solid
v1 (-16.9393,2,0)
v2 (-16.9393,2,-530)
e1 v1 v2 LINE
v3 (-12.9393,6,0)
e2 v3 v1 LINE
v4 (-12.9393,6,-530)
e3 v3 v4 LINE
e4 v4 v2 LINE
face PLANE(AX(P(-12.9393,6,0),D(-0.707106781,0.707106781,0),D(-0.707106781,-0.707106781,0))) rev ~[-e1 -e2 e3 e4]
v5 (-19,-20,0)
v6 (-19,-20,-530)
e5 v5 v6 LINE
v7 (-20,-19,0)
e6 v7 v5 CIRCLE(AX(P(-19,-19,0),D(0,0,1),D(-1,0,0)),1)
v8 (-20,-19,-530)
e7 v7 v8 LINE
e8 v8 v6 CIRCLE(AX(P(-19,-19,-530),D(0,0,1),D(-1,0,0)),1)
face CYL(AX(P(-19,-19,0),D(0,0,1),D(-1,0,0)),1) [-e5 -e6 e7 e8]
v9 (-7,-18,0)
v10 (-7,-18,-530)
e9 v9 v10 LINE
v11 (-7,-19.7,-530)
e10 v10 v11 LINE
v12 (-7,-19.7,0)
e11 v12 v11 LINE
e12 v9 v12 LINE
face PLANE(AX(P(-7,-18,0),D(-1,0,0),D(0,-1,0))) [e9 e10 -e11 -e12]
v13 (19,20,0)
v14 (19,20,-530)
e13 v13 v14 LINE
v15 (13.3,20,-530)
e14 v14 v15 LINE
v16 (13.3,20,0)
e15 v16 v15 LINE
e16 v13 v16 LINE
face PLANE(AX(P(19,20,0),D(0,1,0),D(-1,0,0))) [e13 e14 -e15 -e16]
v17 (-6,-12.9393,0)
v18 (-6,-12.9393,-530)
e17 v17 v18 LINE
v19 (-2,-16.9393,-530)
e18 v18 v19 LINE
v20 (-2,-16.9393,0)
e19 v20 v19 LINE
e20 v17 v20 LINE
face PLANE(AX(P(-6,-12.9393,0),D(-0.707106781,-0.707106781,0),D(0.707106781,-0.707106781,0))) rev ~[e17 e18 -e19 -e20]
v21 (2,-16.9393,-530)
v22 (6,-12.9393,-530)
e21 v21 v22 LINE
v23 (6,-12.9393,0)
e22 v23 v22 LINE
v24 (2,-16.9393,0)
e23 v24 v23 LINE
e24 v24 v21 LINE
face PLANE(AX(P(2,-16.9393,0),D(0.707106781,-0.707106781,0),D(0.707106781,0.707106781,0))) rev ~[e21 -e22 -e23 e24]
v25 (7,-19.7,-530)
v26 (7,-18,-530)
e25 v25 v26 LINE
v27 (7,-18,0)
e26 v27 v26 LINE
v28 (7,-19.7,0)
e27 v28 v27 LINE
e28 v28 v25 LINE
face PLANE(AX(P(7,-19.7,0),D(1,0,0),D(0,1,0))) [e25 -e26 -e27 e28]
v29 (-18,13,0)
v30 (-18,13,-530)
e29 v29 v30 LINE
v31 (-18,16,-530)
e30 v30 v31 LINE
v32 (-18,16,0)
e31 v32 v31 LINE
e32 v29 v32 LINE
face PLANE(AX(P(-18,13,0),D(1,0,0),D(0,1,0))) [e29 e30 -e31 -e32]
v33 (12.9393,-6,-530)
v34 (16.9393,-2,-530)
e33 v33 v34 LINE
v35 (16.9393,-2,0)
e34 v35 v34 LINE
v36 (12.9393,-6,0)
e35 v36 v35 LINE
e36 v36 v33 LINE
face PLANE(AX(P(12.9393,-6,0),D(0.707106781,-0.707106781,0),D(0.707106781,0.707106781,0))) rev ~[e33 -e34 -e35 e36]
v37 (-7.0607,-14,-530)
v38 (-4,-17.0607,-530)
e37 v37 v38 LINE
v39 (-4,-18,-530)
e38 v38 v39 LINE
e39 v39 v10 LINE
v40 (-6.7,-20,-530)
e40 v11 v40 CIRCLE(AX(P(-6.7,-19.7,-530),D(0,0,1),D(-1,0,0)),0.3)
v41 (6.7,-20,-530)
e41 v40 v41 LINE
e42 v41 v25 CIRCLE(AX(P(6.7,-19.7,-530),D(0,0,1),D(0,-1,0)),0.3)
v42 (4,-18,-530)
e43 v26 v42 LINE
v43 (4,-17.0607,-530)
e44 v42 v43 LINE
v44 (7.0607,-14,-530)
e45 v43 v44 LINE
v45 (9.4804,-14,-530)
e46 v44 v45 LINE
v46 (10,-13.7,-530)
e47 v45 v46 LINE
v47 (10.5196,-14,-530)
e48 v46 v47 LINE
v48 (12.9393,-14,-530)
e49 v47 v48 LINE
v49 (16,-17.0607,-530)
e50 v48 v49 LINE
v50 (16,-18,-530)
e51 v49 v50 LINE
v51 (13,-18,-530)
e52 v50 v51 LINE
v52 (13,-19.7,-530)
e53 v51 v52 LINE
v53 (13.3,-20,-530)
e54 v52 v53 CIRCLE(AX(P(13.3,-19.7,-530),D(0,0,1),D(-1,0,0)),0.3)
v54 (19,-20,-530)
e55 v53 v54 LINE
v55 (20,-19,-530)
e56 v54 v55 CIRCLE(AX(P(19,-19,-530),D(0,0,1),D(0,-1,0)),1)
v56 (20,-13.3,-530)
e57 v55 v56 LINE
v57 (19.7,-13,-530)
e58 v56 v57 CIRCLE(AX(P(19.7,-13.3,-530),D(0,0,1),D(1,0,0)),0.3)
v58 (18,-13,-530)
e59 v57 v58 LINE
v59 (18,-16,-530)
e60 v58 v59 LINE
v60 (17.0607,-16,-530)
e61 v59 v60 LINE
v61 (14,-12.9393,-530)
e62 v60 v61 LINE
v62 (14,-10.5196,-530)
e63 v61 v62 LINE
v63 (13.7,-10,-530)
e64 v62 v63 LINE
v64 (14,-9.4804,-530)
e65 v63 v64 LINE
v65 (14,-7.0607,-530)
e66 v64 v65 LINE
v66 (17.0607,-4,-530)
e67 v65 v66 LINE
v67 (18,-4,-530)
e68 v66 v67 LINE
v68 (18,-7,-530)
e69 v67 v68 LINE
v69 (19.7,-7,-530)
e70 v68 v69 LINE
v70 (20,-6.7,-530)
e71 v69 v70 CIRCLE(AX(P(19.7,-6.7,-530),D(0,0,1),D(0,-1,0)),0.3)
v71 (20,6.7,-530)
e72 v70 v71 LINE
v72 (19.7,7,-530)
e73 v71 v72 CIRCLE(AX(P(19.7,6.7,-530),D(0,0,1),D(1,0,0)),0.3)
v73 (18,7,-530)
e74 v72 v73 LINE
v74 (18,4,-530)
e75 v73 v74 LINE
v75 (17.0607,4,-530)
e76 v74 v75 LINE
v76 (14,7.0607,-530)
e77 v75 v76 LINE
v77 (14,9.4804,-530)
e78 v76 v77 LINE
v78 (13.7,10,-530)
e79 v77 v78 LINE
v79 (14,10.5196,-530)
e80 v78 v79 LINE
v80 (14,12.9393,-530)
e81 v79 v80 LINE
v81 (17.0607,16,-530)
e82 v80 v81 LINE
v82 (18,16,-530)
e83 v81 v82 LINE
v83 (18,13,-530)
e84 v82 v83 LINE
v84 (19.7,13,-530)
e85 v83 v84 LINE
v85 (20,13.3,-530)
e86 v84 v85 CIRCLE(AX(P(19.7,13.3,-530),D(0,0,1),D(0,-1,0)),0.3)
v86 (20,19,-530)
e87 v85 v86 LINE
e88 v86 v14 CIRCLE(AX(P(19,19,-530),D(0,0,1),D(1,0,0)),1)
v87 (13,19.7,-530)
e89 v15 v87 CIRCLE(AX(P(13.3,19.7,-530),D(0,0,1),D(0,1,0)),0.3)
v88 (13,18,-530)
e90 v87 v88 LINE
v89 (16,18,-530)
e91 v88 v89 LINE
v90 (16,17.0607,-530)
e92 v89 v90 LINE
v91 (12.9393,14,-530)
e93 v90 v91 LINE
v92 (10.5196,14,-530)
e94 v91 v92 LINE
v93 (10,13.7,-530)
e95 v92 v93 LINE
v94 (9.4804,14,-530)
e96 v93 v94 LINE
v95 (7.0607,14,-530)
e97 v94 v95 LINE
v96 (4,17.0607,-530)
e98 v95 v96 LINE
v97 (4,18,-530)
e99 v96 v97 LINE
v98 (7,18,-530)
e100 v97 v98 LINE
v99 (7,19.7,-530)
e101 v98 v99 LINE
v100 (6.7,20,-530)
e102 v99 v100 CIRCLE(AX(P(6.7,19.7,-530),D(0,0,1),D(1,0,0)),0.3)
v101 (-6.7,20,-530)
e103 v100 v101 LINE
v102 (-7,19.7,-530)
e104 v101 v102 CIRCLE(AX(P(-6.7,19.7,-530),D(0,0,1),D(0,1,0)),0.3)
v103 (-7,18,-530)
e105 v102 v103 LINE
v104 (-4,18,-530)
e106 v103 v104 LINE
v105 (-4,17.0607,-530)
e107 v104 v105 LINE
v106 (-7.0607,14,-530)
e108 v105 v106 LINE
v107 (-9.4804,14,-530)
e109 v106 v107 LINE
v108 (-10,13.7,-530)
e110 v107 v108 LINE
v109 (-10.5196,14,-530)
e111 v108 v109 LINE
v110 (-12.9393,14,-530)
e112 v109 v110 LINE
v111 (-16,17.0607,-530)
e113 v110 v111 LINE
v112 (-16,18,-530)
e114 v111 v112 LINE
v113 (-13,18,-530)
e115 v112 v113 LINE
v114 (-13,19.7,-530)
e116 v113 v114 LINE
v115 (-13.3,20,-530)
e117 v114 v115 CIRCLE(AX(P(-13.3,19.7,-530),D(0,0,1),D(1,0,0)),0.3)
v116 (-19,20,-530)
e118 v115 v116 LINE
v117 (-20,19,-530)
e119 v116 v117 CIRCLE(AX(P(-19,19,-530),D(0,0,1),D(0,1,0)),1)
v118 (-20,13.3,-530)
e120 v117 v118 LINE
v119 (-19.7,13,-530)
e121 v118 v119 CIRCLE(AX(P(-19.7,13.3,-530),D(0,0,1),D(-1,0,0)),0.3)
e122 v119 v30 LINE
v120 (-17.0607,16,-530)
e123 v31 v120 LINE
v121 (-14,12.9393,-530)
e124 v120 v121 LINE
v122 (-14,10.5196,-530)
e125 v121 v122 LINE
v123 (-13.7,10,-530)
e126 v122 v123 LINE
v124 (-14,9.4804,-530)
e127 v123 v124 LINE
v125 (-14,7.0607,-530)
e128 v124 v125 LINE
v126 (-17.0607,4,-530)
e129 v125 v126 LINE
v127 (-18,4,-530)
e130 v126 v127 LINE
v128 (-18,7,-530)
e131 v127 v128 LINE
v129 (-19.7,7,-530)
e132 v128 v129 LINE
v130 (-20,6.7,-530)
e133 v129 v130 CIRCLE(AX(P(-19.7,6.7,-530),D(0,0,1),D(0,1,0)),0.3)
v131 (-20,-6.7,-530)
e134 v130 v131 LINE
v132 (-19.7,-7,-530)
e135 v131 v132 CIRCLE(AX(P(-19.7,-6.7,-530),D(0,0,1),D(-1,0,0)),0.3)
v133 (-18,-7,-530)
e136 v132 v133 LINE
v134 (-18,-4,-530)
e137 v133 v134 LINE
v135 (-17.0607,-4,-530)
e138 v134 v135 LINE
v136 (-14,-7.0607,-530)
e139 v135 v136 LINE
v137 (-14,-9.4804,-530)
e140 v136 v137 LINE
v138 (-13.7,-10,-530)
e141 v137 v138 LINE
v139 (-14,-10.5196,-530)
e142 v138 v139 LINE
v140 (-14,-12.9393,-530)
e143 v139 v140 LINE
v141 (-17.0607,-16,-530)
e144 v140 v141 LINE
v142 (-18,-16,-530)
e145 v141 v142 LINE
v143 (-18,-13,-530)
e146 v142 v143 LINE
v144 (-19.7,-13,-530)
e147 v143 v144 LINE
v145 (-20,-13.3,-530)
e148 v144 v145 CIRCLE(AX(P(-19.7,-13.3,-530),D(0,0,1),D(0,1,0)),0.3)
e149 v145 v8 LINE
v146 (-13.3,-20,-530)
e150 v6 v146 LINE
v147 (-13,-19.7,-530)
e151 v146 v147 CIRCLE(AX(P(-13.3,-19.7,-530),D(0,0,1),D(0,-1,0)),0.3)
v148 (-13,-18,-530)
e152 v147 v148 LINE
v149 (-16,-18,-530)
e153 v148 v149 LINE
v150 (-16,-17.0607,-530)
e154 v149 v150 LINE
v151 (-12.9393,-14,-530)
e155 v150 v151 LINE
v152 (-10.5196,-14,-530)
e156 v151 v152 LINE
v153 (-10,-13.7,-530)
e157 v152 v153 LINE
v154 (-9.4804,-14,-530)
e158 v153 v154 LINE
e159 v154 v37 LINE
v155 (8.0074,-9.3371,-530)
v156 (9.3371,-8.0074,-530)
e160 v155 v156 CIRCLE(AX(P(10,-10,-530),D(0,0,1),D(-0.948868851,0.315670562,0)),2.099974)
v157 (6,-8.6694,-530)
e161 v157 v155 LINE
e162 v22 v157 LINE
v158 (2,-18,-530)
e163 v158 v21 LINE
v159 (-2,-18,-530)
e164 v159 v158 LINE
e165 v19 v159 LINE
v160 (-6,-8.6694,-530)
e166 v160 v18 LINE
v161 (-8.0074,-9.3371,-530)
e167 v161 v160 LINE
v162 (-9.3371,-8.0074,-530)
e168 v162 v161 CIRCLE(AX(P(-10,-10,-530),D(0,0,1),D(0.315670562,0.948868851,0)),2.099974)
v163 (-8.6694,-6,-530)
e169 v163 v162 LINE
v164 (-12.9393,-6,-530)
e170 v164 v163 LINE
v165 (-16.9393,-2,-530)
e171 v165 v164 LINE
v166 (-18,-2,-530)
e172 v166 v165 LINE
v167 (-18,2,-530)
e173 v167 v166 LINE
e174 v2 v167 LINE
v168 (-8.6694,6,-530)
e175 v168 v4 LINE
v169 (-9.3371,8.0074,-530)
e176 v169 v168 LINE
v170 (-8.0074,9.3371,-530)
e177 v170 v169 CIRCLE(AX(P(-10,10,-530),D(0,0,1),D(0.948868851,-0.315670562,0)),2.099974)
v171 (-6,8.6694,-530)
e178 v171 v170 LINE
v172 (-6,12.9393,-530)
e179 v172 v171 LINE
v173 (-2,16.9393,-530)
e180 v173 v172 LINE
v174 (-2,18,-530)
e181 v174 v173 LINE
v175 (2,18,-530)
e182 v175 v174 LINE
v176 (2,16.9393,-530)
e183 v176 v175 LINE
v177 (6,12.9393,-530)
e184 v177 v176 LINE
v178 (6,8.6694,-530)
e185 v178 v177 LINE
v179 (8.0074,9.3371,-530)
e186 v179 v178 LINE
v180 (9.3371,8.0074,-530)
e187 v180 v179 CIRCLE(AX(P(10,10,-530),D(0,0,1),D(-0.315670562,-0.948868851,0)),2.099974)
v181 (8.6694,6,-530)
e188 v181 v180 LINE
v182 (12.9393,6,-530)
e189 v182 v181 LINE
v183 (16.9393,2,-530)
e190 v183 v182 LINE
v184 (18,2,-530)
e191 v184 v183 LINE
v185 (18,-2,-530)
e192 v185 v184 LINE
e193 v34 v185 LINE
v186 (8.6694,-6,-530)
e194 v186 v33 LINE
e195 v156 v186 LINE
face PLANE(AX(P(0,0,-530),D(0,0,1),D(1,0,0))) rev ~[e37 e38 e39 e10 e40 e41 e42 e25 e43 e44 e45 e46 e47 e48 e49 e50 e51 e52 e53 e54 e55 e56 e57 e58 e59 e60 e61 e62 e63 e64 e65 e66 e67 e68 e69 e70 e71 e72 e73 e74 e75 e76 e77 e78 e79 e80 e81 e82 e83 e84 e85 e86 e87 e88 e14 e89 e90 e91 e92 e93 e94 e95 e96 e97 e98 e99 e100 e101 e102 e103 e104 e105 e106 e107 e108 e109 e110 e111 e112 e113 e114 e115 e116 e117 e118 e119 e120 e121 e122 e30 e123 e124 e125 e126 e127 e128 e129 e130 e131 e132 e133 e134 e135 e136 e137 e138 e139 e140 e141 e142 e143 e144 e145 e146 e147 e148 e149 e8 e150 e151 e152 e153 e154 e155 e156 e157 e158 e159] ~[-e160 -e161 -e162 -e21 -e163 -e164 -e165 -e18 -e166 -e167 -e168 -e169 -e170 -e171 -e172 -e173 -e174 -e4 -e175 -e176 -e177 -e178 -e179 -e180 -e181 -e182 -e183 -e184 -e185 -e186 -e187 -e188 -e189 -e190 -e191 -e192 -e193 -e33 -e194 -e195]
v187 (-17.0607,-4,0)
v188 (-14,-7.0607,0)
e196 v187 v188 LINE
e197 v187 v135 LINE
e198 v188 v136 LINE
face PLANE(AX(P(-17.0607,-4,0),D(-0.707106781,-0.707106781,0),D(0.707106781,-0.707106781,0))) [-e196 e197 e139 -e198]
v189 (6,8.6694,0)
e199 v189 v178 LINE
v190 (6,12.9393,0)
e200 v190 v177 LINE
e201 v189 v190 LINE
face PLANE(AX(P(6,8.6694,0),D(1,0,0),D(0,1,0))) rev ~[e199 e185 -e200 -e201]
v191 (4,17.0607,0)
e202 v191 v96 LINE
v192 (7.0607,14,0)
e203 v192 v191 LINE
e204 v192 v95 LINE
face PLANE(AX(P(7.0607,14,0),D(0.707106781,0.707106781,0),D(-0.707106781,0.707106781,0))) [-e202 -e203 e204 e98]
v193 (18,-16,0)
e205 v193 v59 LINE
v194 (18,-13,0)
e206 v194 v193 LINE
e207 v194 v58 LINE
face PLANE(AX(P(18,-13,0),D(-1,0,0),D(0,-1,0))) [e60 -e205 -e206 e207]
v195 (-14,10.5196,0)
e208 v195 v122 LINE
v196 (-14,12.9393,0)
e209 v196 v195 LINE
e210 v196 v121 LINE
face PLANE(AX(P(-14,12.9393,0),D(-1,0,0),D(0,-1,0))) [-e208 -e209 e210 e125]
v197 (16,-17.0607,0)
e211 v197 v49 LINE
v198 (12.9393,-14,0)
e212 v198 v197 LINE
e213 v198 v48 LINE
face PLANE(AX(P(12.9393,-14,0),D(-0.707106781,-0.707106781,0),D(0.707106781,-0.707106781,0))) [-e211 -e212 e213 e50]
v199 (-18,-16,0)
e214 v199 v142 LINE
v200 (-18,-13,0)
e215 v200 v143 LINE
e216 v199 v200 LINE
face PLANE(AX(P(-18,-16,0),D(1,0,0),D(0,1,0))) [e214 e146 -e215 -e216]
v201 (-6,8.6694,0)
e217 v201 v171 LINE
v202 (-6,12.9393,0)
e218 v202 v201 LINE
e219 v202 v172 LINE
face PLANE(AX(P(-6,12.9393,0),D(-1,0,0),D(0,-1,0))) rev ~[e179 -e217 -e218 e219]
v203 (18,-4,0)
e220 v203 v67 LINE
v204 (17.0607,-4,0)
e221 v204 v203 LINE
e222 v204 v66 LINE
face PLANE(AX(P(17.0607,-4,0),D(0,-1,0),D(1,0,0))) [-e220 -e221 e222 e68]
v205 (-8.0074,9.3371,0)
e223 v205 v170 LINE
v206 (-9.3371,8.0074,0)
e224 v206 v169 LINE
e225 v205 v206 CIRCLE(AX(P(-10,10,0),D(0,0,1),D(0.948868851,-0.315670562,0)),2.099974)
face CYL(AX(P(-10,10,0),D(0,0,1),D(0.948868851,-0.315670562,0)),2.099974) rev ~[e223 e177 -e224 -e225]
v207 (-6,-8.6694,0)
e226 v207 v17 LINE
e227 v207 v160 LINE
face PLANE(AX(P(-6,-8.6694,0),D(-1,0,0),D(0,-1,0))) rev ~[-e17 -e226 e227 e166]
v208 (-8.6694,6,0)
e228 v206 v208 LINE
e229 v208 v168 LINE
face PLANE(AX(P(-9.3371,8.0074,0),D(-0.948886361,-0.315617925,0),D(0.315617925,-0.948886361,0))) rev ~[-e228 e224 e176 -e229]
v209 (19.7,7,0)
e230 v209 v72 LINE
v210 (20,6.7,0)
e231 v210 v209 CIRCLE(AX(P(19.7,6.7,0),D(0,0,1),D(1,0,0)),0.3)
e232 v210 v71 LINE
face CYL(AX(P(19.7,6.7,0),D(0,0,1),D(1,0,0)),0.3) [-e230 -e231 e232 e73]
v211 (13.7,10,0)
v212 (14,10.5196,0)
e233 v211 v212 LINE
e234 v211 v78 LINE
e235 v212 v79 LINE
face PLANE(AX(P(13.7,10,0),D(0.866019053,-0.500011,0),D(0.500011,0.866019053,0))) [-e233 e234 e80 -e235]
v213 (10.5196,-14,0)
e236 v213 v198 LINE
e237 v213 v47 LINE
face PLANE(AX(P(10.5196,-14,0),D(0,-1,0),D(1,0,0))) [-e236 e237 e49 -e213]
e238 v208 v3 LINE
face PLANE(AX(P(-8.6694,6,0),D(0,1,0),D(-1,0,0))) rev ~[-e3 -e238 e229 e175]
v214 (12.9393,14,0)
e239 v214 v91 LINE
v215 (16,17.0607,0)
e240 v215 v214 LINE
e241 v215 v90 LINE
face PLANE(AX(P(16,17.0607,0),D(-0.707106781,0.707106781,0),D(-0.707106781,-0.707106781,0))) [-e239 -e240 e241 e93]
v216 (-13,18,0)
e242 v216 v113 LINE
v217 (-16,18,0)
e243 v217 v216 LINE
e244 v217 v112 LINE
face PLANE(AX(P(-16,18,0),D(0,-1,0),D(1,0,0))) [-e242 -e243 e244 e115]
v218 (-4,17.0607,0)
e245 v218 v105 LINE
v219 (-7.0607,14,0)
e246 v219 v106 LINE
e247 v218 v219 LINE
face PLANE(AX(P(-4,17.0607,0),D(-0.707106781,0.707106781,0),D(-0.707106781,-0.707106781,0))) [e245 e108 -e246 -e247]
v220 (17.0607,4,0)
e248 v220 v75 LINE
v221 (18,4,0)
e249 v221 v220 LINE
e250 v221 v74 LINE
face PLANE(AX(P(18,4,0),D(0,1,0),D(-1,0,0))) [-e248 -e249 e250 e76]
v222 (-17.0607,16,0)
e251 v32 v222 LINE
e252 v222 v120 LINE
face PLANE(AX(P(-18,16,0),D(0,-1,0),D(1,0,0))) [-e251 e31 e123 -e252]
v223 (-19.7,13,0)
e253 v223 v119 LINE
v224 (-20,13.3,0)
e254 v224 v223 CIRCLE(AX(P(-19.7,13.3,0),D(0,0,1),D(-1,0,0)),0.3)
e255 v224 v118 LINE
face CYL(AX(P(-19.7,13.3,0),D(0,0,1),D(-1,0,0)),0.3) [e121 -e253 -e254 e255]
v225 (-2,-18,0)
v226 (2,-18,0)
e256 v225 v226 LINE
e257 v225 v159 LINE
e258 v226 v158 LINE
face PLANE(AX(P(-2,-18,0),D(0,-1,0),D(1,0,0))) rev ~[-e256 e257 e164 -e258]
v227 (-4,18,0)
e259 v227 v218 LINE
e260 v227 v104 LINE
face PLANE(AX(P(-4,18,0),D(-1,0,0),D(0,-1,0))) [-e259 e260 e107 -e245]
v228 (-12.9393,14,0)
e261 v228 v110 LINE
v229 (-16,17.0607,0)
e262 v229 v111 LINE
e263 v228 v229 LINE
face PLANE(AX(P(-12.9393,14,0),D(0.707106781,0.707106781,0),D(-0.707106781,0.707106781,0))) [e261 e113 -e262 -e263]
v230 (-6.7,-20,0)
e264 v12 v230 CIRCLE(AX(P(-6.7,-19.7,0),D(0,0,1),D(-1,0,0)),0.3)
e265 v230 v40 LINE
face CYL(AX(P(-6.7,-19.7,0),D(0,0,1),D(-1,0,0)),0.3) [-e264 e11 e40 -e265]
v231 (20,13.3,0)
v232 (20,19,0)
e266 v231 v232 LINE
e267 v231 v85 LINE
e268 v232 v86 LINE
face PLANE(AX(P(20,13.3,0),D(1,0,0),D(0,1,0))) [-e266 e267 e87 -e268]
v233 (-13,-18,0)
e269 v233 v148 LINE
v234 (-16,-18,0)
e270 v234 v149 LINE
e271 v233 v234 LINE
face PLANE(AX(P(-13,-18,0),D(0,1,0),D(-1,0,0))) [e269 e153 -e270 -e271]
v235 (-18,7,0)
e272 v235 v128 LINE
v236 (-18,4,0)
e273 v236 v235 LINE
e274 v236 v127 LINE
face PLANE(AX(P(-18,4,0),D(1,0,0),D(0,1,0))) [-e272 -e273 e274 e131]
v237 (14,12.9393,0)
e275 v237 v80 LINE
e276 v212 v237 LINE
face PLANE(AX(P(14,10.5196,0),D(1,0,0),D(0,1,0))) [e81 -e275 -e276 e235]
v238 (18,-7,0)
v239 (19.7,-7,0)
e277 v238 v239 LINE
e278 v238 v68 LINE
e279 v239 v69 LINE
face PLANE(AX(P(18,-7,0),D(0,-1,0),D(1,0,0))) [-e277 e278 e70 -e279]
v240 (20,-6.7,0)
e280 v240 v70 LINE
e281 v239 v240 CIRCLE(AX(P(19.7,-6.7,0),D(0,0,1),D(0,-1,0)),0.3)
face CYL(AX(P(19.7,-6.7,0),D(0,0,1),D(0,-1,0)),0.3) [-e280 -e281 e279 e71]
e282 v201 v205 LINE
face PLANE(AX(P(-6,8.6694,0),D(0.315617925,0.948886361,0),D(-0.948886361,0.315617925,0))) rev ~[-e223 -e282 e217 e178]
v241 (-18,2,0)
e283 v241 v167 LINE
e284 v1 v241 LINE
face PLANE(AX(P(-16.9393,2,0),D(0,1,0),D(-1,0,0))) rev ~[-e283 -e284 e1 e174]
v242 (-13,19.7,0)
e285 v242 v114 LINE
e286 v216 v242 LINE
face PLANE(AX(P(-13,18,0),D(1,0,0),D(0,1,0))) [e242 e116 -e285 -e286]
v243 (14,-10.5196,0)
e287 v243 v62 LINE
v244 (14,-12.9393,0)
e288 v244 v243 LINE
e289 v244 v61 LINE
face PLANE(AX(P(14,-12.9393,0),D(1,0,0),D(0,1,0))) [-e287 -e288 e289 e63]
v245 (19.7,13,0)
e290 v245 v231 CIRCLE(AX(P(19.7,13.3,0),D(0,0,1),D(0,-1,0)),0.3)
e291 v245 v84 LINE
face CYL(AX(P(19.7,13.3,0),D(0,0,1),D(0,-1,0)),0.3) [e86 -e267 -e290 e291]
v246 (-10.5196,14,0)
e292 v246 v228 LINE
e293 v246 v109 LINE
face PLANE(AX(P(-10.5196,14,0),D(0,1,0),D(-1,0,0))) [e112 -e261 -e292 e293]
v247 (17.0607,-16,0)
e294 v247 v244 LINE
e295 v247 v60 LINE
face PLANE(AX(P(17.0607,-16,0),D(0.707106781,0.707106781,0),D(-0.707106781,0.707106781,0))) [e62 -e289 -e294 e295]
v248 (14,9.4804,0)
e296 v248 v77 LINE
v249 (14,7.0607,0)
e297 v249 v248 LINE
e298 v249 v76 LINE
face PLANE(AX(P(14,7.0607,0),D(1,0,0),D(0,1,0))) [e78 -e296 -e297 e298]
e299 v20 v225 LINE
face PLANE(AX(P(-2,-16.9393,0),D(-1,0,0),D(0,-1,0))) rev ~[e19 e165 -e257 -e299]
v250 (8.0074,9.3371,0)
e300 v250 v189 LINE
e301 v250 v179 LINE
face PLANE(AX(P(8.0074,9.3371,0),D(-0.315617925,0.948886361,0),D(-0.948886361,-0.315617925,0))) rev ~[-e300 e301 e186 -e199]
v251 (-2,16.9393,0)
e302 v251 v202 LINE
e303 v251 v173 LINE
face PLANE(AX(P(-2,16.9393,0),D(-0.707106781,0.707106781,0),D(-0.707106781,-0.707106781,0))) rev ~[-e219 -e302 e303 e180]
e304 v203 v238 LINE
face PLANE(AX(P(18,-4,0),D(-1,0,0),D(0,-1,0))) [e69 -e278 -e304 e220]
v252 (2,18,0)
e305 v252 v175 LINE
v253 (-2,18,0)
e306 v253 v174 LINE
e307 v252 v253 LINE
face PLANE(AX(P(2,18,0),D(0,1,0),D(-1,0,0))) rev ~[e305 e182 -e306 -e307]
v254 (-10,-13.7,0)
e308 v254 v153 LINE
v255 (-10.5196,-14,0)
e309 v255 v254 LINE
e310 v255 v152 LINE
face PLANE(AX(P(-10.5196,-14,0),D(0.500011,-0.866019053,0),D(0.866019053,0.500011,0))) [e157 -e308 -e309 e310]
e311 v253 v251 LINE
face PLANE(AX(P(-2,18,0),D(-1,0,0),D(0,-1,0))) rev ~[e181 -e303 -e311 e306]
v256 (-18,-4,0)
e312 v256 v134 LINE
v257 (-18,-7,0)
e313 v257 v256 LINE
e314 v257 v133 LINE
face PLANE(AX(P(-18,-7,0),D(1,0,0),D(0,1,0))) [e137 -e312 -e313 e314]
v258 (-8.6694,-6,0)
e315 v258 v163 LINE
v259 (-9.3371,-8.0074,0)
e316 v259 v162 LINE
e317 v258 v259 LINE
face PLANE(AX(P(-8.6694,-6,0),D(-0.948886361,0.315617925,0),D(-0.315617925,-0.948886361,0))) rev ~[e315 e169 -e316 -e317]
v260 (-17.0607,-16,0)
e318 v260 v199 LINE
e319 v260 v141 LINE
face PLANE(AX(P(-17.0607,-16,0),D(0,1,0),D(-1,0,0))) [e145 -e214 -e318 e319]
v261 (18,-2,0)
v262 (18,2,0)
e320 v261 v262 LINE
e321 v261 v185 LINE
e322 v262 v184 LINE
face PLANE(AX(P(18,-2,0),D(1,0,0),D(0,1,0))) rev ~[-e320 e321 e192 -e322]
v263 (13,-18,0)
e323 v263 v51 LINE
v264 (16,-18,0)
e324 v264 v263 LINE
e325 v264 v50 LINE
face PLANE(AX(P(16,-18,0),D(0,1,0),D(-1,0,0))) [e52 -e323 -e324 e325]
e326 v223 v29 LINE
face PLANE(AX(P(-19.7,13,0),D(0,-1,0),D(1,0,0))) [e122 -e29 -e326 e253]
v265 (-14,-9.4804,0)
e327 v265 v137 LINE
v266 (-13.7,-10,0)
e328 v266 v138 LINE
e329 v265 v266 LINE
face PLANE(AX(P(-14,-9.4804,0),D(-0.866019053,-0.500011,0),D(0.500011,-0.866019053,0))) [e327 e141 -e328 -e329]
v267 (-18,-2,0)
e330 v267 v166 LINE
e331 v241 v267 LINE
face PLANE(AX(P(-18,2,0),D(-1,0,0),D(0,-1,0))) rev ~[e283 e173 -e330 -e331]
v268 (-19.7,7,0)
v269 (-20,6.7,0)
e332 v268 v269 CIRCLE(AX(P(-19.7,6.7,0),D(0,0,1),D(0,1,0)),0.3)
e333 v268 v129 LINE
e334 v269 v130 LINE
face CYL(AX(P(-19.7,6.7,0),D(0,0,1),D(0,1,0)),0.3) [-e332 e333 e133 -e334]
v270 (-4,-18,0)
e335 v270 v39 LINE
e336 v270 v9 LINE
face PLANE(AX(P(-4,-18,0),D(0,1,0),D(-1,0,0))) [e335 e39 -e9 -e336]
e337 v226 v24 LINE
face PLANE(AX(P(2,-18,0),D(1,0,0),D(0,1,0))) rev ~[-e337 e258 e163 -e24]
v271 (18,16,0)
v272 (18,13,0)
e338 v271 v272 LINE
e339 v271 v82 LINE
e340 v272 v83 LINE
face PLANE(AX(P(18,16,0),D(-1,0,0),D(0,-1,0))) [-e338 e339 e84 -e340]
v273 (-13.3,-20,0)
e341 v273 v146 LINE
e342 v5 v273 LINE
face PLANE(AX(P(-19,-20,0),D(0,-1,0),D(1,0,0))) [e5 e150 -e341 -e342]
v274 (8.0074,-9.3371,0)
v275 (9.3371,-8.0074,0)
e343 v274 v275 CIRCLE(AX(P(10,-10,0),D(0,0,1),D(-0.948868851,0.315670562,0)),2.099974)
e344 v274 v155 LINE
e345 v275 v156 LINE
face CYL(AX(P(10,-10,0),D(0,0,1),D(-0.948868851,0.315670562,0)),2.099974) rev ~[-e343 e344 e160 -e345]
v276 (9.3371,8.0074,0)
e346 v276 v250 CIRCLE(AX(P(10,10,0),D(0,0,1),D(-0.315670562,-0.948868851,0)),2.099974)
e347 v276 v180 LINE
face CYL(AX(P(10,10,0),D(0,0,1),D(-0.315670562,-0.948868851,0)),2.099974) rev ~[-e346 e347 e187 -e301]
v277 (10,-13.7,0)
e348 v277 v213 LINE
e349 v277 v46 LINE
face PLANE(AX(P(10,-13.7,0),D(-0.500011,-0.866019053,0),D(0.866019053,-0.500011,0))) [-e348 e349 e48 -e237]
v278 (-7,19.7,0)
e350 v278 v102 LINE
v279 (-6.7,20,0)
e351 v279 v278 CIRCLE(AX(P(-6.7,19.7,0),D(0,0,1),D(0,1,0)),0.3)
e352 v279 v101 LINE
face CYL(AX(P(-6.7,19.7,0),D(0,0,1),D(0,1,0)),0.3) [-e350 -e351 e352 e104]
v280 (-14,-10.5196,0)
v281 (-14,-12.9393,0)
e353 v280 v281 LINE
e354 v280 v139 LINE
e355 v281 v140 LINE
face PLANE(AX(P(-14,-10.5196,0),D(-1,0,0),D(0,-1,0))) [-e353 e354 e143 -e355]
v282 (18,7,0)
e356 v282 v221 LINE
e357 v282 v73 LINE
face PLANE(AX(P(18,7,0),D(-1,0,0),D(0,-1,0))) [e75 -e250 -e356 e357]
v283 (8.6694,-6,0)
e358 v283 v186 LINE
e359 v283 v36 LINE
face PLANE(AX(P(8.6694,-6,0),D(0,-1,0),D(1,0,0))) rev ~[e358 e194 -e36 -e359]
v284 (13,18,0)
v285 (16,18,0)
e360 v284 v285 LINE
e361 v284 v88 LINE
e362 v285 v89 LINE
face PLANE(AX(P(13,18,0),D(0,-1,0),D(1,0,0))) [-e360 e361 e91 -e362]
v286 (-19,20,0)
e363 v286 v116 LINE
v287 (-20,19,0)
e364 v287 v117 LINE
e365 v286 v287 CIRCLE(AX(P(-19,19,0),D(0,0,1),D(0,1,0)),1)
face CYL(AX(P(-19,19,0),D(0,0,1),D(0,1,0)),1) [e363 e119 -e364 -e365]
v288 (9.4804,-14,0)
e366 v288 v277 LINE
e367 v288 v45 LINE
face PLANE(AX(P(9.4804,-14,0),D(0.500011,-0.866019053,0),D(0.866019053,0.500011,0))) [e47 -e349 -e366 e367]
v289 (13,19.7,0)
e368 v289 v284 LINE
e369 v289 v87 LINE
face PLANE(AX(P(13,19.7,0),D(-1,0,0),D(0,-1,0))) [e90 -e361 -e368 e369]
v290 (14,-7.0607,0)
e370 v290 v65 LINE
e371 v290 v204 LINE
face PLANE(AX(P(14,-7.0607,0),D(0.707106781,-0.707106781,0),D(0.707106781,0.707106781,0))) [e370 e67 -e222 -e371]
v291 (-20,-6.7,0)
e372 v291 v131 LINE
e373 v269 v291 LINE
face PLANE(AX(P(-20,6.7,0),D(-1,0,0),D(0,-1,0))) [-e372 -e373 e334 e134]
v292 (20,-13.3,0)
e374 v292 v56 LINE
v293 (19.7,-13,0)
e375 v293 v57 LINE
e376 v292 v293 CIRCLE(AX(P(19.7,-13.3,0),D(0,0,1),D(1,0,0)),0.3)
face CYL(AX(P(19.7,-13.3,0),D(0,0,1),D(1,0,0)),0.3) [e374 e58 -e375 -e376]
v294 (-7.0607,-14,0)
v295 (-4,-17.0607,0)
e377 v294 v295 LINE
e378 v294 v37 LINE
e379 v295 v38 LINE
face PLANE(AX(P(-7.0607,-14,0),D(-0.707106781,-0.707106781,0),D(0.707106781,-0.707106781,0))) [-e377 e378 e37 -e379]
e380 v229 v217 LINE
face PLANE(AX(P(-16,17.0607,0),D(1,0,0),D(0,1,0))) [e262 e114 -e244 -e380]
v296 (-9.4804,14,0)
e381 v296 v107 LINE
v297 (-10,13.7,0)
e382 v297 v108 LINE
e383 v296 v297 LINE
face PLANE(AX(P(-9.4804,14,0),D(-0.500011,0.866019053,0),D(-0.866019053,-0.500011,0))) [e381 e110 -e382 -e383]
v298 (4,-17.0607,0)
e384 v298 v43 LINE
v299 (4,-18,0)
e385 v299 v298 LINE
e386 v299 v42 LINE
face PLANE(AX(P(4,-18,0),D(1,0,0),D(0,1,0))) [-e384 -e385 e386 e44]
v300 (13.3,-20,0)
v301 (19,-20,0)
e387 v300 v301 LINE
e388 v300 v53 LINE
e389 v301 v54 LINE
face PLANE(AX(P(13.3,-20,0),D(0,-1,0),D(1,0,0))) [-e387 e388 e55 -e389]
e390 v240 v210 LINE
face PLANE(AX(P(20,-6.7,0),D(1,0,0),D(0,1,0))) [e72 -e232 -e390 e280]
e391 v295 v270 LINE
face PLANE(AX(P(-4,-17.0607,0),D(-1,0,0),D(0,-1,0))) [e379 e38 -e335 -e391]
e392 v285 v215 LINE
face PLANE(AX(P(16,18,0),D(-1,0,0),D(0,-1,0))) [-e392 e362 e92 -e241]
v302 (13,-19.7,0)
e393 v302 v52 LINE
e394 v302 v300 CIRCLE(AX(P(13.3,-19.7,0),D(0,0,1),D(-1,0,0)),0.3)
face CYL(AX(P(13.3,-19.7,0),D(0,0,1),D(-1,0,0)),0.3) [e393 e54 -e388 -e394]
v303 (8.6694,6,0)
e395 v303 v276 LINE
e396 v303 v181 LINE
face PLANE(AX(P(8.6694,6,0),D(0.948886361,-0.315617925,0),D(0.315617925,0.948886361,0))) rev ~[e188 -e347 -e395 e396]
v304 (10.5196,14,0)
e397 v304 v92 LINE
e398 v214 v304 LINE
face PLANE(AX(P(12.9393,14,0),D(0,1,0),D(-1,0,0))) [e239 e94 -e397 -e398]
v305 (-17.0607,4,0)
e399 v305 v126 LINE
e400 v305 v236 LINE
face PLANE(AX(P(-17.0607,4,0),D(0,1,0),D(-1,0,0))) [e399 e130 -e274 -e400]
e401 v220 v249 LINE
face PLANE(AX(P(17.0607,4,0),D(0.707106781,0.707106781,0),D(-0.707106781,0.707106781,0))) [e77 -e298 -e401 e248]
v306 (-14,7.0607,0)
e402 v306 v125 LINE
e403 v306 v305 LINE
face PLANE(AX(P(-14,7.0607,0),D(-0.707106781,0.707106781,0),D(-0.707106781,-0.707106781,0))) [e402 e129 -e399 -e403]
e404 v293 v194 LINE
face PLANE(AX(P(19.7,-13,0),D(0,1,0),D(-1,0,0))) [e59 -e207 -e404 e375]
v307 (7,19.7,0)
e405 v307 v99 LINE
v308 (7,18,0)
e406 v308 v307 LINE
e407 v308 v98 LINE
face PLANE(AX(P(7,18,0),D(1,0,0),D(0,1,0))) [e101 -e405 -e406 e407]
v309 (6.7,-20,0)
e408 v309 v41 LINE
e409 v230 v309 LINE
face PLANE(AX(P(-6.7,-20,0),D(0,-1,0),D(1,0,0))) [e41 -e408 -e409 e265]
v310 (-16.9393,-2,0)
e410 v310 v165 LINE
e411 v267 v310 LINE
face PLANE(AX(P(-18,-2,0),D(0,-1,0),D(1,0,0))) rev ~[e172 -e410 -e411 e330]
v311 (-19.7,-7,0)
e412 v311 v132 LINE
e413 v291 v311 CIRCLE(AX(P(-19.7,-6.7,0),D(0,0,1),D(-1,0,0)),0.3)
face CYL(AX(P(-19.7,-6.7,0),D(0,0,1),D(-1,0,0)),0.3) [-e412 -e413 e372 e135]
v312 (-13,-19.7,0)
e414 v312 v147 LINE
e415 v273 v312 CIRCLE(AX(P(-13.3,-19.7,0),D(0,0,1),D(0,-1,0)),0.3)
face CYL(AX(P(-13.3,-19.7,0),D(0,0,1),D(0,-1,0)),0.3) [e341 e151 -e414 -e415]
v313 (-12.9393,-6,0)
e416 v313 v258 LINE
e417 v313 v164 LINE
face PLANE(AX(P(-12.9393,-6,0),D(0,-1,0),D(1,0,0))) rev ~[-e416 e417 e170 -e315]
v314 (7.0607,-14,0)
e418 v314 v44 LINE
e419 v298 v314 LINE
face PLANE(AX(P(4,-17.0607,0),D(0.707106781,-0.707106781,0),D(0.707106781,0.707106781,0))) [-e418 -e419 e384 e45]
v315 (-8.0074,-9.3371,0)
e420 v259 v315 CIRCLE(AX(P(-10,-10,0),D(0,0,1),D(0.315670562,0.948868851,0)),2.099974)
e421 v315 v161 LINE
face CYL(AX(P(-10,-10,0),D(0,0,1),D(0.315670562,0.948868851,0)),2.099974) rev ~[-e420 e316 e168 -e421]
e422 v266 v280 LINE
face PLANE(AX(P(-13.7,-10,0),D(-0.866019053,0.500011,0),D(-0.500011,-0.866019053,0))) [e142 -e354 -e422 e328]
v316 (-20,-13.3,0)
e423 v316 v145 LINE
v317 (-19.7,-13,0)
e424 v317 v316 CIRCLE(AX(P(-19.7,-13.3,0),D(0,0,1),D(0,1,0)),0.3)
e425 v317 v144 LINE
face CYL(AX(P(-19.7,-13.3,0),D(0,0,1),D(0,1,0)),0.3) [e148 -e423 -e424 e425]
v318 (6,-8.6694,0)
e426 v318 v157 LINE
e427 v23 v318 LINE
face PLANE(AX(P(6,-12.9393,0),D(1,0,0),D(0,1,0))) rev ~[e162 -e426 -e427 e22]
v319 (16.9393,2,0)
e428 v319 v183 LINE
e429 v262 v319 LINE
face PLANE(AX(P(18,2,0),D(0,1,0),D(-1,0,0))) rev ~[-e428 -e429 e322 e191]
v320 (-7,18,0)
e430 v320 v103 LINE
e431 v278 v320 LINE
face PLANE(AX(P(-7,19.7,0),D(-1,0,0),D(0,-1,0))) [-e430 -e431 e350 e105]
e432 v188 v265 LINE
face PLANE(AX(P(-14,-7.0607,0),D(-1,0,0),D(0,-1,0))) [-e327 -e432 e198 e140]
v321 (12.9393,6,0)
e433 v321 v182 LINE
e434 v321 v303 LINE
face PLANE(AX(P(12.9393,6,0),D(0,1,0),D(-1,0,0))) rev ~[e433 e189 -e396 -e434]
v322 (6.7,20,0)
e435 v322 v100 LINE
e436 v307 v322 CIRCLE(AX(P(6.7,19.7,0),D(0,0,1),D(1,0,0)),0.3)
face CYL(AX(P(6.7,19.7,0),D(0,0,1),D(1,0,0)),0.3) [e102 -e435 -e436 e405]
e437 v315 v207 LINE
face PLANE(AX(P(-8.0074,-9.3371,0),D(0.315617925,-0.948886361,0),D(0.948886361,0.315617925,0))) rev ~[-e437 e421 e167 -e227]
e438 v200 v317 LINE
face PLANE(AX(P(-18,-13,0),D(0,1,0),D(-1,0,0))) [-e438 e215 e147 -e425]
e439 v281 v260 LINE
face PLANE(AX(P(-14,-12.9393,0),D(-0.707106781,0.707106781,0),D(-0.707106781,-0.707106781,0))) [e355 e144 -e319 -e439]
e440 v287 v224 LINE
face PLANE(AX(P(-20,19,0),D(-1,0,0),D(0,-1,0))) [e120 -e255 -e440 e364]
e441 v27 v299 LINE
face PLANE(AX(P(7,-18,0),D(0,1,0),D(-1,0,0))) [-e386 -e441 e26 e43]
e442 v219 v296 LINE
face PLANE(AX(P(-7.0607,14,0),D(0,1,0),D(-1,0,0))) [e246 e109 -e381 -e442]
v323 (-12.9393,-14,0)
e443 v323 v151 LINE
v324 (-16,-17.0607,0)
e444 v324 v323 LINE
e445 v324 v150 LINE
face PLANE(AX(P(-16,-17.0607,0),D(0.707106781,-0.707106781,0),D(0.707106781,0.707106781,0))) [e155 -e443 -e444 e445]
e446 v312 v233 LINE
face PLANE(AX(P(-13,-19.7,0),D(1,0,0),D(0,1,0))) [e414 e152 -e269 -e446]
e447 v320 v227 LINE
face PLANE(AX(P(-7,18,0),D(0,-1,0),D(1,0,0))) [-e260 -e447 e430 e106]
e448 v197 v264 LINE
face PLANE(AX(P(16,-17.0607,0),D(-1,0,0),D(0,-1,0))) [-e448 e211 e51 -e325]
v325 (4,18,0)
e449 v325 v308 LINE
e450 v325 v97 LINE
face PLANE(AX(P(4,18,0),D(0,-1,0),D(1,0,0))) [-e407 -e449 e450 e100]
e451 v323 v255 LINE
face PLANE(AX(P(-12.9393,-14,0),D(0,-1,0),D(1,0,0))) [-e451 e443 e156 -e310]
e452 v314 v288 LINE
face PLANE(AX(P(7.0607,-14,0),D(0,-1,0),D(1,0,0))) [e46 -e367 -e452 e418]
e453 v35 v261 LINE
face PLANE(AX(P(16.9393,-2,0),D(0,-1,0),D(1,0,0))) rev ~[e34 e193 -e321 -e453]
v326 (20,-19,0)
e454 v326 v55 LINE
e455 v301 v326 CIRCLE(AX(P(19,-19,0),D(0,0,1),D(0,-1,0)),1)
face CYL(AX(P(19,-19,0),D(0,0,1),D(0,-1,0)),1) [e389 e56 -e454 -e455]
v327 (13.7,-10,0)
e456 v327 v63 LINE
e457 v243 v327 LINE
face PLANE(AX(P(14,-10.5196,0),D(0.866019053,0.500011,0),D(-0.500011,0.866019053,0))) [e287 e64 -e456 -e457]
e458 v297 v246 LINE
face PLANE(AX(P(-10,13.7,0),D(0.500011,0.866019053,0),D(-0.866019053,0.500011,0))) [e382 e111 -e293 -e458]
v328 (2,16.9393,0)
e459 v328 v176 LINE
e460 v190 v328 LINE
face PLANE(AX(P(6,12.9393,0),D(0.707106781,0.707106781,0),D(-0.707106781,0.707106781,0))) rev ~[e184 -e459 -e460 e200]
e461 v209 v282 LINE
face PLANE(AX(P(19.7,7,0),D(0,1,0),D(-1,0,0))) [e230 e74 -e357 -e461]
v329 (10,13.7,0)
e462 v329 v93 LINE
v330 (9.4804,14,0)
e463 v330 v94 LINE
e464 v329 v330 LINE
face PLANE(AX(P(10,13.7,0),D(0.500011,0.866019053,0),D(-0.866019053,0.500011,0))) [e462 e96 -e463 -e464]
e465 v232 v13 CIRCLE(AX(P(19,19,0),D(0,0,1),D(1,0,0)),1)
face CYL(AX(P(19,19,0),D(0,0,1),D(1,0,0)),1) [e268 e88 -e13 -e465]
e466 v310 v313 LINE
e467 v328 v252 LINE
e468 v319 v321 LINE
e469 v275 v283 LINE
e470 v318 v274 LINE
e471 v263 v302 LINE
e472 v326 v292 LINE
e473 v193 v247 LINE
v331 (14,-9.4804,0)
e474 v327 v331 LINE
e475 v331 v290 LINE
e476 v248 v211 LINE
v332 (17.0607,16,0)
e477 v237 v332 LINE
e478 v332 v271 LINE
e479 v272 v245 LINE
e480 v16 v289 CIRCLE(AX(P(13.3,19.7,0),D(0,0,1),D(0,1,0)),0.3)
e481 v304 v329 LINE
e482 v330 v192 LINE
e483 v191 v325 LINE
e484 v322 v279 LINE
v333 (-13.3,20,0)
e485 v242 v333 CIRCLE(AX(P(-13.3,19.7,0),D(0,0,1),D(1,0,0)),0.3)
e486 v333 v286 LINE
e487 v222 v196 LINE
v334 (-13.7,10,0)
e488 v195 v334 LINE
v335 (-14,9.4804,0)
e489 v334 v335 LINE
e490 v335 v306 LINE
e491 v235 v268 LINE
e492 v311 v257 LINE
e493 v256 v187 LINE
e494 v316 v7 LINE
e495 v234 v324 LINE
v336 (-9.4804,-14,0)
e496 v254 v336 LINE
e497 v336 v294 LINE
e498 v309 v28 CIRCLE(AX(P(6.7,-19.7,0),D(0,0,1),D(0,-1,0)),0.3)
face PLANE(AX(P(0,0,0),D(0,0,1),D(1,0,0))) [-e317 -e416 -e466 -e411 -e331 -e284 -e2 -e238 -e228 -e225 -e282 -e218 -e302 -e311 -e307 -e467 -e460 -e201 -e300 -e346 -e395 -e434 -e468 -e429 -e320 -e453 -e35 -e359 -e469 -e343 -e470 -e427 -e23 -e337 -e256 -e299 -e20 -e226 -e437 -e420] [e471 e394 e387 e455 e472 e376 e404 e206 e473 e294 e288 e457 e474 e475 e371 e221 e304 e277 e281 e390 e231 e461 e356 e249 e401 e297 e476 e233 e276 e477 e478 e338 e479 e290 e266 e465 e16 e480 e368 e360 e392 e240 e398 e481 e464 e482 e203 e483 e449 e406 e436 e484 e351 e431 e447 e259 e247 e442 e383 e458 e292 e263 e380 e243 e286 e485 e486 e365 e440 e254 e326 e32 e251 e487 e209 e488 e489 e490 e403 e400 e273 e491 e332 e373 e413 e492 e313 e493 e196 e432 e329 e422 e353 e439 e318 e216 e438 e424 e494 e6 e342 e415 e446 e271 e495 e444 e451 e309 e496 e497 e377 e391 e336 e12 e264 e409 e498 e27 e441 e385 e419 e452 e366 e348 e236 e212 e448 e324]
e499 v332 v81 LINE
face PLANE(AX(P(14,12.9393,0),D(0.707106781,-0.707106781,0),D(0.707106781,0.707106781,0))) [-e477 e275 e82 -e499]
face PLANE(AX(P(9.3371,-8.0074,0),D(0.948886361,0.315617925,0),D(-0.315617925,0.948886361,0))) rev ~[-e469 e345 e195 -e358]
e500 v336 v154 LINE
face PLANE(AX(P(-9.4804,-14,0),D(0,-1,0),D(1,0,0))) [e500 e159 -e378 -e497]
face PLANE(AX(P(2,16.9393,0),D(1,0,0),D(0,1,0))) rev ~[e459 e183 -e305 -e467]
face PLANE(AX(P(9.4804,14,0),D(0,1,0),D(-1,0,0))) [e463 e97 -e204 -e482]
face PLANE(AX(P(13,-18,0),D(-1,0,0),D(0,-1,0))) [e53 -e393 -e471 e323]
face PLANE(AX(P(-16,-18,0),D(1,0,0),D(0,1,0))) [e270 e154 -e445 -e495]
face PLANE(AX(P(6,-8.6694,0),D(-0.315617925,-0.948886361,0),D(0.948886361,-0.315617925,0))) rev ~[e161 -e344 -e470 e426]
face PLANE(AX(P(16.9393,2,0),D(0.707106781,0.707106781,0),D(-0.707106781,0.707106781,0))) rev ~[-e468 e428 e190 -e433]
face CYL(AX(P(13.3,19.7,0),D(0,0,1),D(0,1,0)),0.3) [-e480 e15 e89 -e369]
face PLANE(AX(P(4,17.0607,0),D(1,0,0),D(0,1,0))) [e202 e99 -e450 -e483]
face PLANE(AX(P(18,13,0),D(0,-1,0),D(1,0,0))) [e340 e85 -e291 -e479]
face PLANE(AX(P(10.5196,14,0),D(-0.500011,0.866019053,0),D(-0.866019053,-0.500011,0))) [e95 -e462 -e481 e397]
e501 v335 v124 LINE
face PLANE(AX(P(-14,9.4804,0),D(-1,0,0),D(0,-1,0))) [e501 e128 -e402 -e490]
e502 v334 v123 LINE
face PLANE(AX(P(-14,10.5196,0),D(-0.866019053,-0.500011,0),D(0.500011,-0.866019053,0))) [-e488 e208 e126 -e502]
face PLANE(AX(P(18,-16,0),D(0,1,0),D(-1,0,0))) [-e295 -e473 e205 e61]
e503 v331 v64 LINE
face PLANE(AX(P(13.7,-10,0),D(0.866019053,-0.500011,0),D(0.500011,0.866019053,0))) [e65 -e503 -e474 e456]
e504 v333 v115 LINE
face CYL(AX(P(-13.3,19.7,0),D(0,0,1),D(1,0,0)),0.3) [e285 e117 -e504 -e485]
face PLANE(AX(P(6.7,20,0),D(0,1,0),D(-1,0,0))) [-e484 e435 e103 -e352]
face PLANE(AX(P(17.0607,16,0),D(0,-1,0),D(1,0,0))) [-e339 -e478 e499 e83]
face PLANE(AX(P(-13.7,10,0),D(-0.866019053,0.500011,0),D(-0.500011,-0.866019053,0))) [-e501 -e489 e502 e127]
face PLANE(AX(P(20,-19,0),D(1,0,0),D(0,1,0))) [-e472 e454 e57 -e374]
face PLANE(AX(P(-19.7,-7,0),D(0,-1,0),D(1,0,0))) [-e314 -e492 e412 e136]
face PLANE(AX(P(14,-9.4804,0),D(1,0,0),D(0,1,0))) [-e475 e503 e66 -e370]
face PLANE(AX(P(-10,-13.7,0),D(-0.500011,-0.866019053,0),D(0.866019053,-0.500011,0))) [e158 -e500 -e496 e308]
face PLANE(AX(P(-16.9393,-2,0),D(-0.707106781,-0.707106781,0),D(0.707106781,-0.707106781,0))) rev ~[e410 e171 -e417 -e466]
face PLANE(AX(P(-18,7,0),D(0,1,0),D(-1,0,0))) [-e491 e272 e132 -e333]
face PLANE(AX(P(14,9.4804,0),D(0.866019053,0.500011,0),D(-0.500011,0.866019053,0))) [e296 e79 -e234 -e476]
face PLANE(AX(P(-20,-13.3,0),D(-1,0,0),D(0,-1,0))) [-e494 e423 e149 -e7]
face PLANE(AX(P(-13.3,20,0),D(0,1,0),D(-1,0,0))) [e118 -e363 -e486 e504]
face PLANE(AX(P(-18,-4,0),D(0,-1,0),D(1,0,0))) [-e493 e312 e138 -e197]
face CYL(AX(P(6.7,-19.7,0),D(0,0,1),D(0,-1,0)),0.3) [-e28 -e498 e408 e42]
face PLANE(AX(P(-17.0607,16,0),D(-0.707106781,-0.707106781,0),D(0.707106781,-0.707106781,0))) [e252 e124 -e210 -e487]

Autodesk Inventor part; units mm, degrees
sketch "Sketch_1" plane through (0, 0, 0) normal (0, 0, 1) x (1, 0, 0)
  arc A0 (-20, 13.3) -> (-19.7, 13) centre (-19.7, 13.3) ccw
  line L0 (-19.7, 13) -> (-18, 13)
  line L1 (-18, 13) -> (-18, 16)
  line L2 (-18, 16) -> (-17.0607, 16)
  line L3 (-17.0607, 16) -> (-14, 12.9393)
  line L4 (-14, 12.9393) -> (-14, 10.5196)
  line L5 (-14, 10.5196) -> (-13.7, 10)
  line L6 (-13.7, 10) -> (-14, 9.4804)
  line L7 (-14, 9.4804) -> (-14, 7.0607)
  line L8 (-14, 7.0607) -> (-17.0607, 4)
  line L9 (-17.0607, 4) -> (-18, 4)
  line L10 (-18, 4) -> (-18, 7)
  line L11 (-18, 7) -> (-19.7, 7)
  arc A1 (-19.7, 7) -> (-20, 6.7) centre (-19.7, 6.7) ccw
  line L12 (-20, 6.7) -> (-20, -6.7)
  arc A2 (-20, -6.7) -> (-19.7, -7) centre (-19.7, -6.7) ccw
  line L13 (-19.7, -7) -> (-18, -7)
  line L14 (-18, -7) -> (-18, -4)
  line L15 (-18, -4) -> (-17.0607, -4)
  line L16 (-17.0607, -4) -> (-14, -7.0607)
  line L17 (-14, -7.0607) -> (-14, -9.4804)
  line L18 (-14, -9.4804) -> (-13.7, -10)
  line L19 (-13.7, -10) -> (-14, -10.5196)
  line L20 (-14, -10.5196) -> (-14, -12.9393)
  line L21 (-14, -12.9393) -> (-17.0607, -16)
  line L22 (-17.0607, -16) -> (-18, -16)
  line L23 (-18, -16) -> (-18, -13)
  line L24 (-18, -13) -> (-19.7, -13)
  arc A3 (-19.7, -13) -> (-20, -13.3) centre (-19.7, -13.3) ccw
  line L25 (-20, -13.3) -> (-20, -19)
  arc A4 (-20, -19) -> (-19, -20) centre (-19, -19) ccw
  line L26 (-19, -20) -> (-13.3, -20)
  arc A5 (-13.3, -20) -> (-13, -19.7) centre (-13.3, -19.7) ccw
  line L27 (-13, -19.7) -> (-13, -18)
  line L28 (-13, -18) -> (-16, -18)
  line L29 (-16, -18) -> (-16, -17.0607)
  line L30 (-16, -17.0607) -> (-12.9393, -14)
  line L31 (-12.9393, -14) -> (-10.5196, -14)
  line L32 (-10.5196, -14) -> (-10, -13.7)
  line L33 (-10, -13.7) -> (-9.4804, -14)
  line L34 (-9.4804, -14) -> (-7.0607, -14)
  line L35 (-7.0607, -14) -> (-4, -17.0607)
  line L36 (-4, -17.0607) -> (-4, -18)
  line L37 (-4, -18) -> (-7, -18)
  line L38 (-7, -18) -> (-7, -19.7)
  arc A6 (-7, -19.7) -> (-6.7, -20) centre (-6.7, -19.7) ccw
  line L39 (-6.7, -20) -> (6.7, -20)
  arc A7 (6.7, -20) -> (7, -19.7) centre (6.7, -19.7) ccw
  line L40 (7, -19.7) -> (7, -18)
  line L41 (7, -18) -> (4, -18)
  line L42 (4, -18) -> (4, -17.0607)
  line L43 (4, -17.0607) -> (7.0607, -14)
  line L44 (7.0607, -14) -> (9.4804, -14)
  line L45 (9.4804, -14) -> (10, -13.7)
  line L46 (10, -13.7) -> (10.5196, -14)
  line L47 (10.5196, -14) -> (12.9393, -14)
  line L48 (12.9393, -14) -> (16, -17.0607)
  line L49 (16, -17.0607) -> (16, -18)
  line L50 (16, -18) -> (13, -18)
  line L51 (13, -18) -> (13, -19.7)
  arc A8 (13, -19.7) -> (13.3, -20) centre (13.3, -19.7) ccw
  line L52 (13.3, -20) -> (19, -20)
  arc A9 (19, -20) -> (20, -19) centre (19, -19) ccw
  line L53 (20, -19) -> (20, -13.3)
  arc A10 (20, -13.3) -> (19.7, -13) centre (19.7, -13.3) ccw
  line L54 (19.7, -13) -> (18, -13)
  line L55 (18, -13) -> (18, -16)
  line L56 (18, -16) -> (17.0607, -16)
  line L57 (17.0607, -16) -> (14, -12.9393)
  line L58 (14, -12.9393) -> (14, -10.5196)
  line L59 (14, -10.5196) -> (13.7, -10)
  line L60 (13.7, -10) -> (14, -9.4804)
  line L61 (14, -9.4804) -> (14, -7.0607)
  line L62 (14, -7.0607) -> (17.0607, -4)
  line L63 (17.0607, -4) -> (18, -4)
  line L64 (18, -4) -> (18, -7)
  line L65 (18, -7) -> (19.7, -7)
  arc A11 (19.7, -7) -> (20, -6.7) centre (19.7, -6.7) ccw
  line L66 (20, -6.7) -> (20, 6.7)
  arc A12 (20, 6.7) -> (19.7, 7) centre (19.7, 6.7) ccw
  line L67 (19.7, 7) -> (18, 7)
  line L68 (18, 7) -> (18, 4)
  line L69 (18, 4) -> (17.0607, 4)
  line L70 (17.0607, 4) -> (14, 7.0607)
  line L71 (14, 7.0607) -> (14, 9.4804)
  line L72 (14, 9.4804) -> (13.7, 10)
  line L73 (13.7, 10) -> (14, 10.5196)
  line L74 (14, 10.5196) -> (14, 12.9393)
  line L75 (14, 12.9393) -> (17.0607, 16)
  line L76 (17.0607, 16) -> (18, 16)
  line L77 (18, 16) -> (18, 13)
  line L78 (18, 13) -> (19.7, 13)
  arc A13 (19.7, 13) -> (20, 13.3) centre (19.7, 13.3) ccw
  line L79 (20, 13.3) -> (20, 19)
  arc A14 (20, 19) -> (19, 20) centre (19, 19) ccw
  line L80 (19, 20) -> (13.3, 20)
  arc A15 (13.3, 20) -> (13, 19.7) centre (13.3, 19.7) ccw
  line L81 (13, 19.7) -> (13, 18)
  line L82 (13, 18) -> (16, 18)
  line L83 (16, 18) -> (16, 17.0607)
  line L84 (16, 17.0607) -> (12.9393, 14)
  line L85 (12.9393, 14) -> (10.5196, 14)
  line L86 (10.5196, 14) -> (10, 13.7)
  line L87 (10, 13.7) -> (9.4804, 14)
  line L88 (9.4804, 14) -> (7.0607, 14)
  line L89 (7.0607, 14) -> (4, 17.0607)
  line L90 (4, 17.0607) -> (4, 18)
  line L91 (4, 18) -> (7, 18)
  line L92 (7, 18) -> (7, 19.7)
  arc A16 (7, 19.7) -> (6.7, 20) centre (6.7, 19.7) ccw
  line L93 (6.7, 20) -> (-6.7, 20)
  arc A17 (-6.7, 20) -> (-7, 19.7) centre (-6.7, 19.7) ccw
  line L94 (-7, 19.7) -> (-7, 18)
  line L95 (-7, 18) -> (-4, 18)
  line L96 (-4, 18) -> (-4, 17.0607)
  line L97 (-4, 17.0607) -> (-7.0607, 14)
  line L98 (-7.0607, 14) -> (-9.4804, 14)
  line L99 (-9.4804, 14) -> (-10, 13.7)
  line L100 (-10, 13.7) -> (-10.5196, 14)
  line L101 (-10.5196, 14) -> (-12.9393, 14)
  line L102 (-12.9393, 14) -> (-16, 17.0607)
  line L103 (-16, 17.0607) -> (-16, 18)
  line L104 (-16, 18) -> (-13, 18)
  line L105 (-13, 18) -> (-13, 19.7)
  arc A18 (-13, 19.7) -> (-13.3, 20) centre (-13.3, 19.7) ccw
  line L106 (-13.3, 20) -> (-19, 20)
  arc A19 (-19, 20) -> (-20, 19) centre (-19, 19) ccw
  line L107 (-20, 19) -> (-20, 13.3)
  line L108 (-18, 2) -> (-18, -2)
  line L109 (-18, -2) -> (-16.9393, -2)
  line L110 (-16.9393, -2) -> (-12.9393, -6)
  line L111 (-12.9393, -6) -> (-8.6694, -6)
  line L112 (-8.6694, -6) -> (-9.3371, -8.0074)
  arc A20 (-9.3371, -8.0074) -> (-8.0074, -9.3371) centre (-10, -10) ccw
  line L113 (-8.0074, -9.3371) -> (-6, -8.6694)
  line L114 (-6, -8.6694) -> (-6, -12.9393)
  line L115 (-6, -12.9393) -> (-2, -16.9393)
  line L116 (-2, -16.9393) -> (-2, -18)
  line L117 (-2, -18) -> (2, -18)
  line L118 (2, -18) -> (2, -16.9393)
  line L119 (2, -16.9393) -> (6, -12.9393)
  line L120 (6, -12.9393) -> (6, -8.6694)
  line L121 (6, -8.6694) -> (8.0074, -9.3371)
  arc A21 (8.0074, -9.3371) -> (9.3371, -8.0074) centre (10, -10) ccw
  line L122 (9.3371, -8.0074) -> (8.6694, -6)
  line L123 (8.6694, -6) -> (12.9393, -6)
  line L124 (12.9393, -6) -> (16.9393, -2)
  line L125 (16.9393, -2) -> (18, -2)
  line L126 (18, -2) -> (18, 2)
  line L127 (18, 2) -> (16.9393, 2)
  line L128 (16.9393, 2) -> (12.9393, 6)
  line L129 (12.9393, 6) -> (8.6694, 6)
  line L130 (8.6694, 6) -> (9.3371, 8.0074)
  arc A22 (9.3371, 8.0074) -> (8.0074, 9.3371) centre (10, 10) ccw
  line L131 (8.0074, 9.3371) -> (6, 8.6694)
  line L132 (6, 8.6694) -> (6, 12.9393)
  line L133 (6, 12.9393) -> (2, 16.9393)
  line L134 (2, 16.9393) -> (2, 18)
  line L135 (2, 18) -> (-2, 18)
  line L136 (-2, 18) -> (-2, 16.9393)
  line L137 (-2, 16.9393) -> (-6, 12.9393)
  line L138 (-6, 12.9393) -> (-6, 8.6694)
  line L139 (-6, 8.6694) -> (-8.0074, 9.3371)
  arc A23 (-8.0074, 9.3371) -> (-9.3371, 8.0074) centre (-10, 10) ccw
  line L140 (-9.3371, 8.0074) -> (-8.6694, 6)
  line L141 (-8.6694, 6) -> (-12.9393, 6)
  line L142 (-12.9393, 6) -> (-16.9393, 2)
  line L143 (-16.9393, 2) -> (-18, 2)
extrude "Extrusion1" add sketch "Sketch_1" against normal blind 530
ref_plane "to_frame_cap1_XY" through (0, 0, 0) normal (0, 0, 1) x (1, 0, 0)
ref_plane "to_frame_cap1_YZ" through (0, 0, 0) normal (1, 0, 0) x (0, 1, 0)
ref_plane "to_frame_cap1_ZX" through (0, 0, 0) normal (0, 1, 0) x (0, 0, 1)
ref_plane "C1_XY" through (0, 0, 0) normal (0, 0, 1) x (1, 0, 0)
ref_plane "C1_YZ" through (0, 0, 0) normal (1, 0, 0) x (0, 1, 0)
ref_plane "C1_ZX" through (0, 0, 0) normal (0, 1, 0) x (0, 0, 1)
ref_plane "to_frame_cap2_XY" through (0, 0, -530) normal (0, 0, -1) x (1, 0, 0)
ref_plane "to_frame_cap2_YZ" through (0, 0, -530) normal (1, 0, 0) x (0, -1, 0)
ref_plane "to_frame_cap2_ZX" through (0, 0, -530) normal (0, -1, 0) x (0, 0, -1)
properties part number "HFS5-4040-530"
